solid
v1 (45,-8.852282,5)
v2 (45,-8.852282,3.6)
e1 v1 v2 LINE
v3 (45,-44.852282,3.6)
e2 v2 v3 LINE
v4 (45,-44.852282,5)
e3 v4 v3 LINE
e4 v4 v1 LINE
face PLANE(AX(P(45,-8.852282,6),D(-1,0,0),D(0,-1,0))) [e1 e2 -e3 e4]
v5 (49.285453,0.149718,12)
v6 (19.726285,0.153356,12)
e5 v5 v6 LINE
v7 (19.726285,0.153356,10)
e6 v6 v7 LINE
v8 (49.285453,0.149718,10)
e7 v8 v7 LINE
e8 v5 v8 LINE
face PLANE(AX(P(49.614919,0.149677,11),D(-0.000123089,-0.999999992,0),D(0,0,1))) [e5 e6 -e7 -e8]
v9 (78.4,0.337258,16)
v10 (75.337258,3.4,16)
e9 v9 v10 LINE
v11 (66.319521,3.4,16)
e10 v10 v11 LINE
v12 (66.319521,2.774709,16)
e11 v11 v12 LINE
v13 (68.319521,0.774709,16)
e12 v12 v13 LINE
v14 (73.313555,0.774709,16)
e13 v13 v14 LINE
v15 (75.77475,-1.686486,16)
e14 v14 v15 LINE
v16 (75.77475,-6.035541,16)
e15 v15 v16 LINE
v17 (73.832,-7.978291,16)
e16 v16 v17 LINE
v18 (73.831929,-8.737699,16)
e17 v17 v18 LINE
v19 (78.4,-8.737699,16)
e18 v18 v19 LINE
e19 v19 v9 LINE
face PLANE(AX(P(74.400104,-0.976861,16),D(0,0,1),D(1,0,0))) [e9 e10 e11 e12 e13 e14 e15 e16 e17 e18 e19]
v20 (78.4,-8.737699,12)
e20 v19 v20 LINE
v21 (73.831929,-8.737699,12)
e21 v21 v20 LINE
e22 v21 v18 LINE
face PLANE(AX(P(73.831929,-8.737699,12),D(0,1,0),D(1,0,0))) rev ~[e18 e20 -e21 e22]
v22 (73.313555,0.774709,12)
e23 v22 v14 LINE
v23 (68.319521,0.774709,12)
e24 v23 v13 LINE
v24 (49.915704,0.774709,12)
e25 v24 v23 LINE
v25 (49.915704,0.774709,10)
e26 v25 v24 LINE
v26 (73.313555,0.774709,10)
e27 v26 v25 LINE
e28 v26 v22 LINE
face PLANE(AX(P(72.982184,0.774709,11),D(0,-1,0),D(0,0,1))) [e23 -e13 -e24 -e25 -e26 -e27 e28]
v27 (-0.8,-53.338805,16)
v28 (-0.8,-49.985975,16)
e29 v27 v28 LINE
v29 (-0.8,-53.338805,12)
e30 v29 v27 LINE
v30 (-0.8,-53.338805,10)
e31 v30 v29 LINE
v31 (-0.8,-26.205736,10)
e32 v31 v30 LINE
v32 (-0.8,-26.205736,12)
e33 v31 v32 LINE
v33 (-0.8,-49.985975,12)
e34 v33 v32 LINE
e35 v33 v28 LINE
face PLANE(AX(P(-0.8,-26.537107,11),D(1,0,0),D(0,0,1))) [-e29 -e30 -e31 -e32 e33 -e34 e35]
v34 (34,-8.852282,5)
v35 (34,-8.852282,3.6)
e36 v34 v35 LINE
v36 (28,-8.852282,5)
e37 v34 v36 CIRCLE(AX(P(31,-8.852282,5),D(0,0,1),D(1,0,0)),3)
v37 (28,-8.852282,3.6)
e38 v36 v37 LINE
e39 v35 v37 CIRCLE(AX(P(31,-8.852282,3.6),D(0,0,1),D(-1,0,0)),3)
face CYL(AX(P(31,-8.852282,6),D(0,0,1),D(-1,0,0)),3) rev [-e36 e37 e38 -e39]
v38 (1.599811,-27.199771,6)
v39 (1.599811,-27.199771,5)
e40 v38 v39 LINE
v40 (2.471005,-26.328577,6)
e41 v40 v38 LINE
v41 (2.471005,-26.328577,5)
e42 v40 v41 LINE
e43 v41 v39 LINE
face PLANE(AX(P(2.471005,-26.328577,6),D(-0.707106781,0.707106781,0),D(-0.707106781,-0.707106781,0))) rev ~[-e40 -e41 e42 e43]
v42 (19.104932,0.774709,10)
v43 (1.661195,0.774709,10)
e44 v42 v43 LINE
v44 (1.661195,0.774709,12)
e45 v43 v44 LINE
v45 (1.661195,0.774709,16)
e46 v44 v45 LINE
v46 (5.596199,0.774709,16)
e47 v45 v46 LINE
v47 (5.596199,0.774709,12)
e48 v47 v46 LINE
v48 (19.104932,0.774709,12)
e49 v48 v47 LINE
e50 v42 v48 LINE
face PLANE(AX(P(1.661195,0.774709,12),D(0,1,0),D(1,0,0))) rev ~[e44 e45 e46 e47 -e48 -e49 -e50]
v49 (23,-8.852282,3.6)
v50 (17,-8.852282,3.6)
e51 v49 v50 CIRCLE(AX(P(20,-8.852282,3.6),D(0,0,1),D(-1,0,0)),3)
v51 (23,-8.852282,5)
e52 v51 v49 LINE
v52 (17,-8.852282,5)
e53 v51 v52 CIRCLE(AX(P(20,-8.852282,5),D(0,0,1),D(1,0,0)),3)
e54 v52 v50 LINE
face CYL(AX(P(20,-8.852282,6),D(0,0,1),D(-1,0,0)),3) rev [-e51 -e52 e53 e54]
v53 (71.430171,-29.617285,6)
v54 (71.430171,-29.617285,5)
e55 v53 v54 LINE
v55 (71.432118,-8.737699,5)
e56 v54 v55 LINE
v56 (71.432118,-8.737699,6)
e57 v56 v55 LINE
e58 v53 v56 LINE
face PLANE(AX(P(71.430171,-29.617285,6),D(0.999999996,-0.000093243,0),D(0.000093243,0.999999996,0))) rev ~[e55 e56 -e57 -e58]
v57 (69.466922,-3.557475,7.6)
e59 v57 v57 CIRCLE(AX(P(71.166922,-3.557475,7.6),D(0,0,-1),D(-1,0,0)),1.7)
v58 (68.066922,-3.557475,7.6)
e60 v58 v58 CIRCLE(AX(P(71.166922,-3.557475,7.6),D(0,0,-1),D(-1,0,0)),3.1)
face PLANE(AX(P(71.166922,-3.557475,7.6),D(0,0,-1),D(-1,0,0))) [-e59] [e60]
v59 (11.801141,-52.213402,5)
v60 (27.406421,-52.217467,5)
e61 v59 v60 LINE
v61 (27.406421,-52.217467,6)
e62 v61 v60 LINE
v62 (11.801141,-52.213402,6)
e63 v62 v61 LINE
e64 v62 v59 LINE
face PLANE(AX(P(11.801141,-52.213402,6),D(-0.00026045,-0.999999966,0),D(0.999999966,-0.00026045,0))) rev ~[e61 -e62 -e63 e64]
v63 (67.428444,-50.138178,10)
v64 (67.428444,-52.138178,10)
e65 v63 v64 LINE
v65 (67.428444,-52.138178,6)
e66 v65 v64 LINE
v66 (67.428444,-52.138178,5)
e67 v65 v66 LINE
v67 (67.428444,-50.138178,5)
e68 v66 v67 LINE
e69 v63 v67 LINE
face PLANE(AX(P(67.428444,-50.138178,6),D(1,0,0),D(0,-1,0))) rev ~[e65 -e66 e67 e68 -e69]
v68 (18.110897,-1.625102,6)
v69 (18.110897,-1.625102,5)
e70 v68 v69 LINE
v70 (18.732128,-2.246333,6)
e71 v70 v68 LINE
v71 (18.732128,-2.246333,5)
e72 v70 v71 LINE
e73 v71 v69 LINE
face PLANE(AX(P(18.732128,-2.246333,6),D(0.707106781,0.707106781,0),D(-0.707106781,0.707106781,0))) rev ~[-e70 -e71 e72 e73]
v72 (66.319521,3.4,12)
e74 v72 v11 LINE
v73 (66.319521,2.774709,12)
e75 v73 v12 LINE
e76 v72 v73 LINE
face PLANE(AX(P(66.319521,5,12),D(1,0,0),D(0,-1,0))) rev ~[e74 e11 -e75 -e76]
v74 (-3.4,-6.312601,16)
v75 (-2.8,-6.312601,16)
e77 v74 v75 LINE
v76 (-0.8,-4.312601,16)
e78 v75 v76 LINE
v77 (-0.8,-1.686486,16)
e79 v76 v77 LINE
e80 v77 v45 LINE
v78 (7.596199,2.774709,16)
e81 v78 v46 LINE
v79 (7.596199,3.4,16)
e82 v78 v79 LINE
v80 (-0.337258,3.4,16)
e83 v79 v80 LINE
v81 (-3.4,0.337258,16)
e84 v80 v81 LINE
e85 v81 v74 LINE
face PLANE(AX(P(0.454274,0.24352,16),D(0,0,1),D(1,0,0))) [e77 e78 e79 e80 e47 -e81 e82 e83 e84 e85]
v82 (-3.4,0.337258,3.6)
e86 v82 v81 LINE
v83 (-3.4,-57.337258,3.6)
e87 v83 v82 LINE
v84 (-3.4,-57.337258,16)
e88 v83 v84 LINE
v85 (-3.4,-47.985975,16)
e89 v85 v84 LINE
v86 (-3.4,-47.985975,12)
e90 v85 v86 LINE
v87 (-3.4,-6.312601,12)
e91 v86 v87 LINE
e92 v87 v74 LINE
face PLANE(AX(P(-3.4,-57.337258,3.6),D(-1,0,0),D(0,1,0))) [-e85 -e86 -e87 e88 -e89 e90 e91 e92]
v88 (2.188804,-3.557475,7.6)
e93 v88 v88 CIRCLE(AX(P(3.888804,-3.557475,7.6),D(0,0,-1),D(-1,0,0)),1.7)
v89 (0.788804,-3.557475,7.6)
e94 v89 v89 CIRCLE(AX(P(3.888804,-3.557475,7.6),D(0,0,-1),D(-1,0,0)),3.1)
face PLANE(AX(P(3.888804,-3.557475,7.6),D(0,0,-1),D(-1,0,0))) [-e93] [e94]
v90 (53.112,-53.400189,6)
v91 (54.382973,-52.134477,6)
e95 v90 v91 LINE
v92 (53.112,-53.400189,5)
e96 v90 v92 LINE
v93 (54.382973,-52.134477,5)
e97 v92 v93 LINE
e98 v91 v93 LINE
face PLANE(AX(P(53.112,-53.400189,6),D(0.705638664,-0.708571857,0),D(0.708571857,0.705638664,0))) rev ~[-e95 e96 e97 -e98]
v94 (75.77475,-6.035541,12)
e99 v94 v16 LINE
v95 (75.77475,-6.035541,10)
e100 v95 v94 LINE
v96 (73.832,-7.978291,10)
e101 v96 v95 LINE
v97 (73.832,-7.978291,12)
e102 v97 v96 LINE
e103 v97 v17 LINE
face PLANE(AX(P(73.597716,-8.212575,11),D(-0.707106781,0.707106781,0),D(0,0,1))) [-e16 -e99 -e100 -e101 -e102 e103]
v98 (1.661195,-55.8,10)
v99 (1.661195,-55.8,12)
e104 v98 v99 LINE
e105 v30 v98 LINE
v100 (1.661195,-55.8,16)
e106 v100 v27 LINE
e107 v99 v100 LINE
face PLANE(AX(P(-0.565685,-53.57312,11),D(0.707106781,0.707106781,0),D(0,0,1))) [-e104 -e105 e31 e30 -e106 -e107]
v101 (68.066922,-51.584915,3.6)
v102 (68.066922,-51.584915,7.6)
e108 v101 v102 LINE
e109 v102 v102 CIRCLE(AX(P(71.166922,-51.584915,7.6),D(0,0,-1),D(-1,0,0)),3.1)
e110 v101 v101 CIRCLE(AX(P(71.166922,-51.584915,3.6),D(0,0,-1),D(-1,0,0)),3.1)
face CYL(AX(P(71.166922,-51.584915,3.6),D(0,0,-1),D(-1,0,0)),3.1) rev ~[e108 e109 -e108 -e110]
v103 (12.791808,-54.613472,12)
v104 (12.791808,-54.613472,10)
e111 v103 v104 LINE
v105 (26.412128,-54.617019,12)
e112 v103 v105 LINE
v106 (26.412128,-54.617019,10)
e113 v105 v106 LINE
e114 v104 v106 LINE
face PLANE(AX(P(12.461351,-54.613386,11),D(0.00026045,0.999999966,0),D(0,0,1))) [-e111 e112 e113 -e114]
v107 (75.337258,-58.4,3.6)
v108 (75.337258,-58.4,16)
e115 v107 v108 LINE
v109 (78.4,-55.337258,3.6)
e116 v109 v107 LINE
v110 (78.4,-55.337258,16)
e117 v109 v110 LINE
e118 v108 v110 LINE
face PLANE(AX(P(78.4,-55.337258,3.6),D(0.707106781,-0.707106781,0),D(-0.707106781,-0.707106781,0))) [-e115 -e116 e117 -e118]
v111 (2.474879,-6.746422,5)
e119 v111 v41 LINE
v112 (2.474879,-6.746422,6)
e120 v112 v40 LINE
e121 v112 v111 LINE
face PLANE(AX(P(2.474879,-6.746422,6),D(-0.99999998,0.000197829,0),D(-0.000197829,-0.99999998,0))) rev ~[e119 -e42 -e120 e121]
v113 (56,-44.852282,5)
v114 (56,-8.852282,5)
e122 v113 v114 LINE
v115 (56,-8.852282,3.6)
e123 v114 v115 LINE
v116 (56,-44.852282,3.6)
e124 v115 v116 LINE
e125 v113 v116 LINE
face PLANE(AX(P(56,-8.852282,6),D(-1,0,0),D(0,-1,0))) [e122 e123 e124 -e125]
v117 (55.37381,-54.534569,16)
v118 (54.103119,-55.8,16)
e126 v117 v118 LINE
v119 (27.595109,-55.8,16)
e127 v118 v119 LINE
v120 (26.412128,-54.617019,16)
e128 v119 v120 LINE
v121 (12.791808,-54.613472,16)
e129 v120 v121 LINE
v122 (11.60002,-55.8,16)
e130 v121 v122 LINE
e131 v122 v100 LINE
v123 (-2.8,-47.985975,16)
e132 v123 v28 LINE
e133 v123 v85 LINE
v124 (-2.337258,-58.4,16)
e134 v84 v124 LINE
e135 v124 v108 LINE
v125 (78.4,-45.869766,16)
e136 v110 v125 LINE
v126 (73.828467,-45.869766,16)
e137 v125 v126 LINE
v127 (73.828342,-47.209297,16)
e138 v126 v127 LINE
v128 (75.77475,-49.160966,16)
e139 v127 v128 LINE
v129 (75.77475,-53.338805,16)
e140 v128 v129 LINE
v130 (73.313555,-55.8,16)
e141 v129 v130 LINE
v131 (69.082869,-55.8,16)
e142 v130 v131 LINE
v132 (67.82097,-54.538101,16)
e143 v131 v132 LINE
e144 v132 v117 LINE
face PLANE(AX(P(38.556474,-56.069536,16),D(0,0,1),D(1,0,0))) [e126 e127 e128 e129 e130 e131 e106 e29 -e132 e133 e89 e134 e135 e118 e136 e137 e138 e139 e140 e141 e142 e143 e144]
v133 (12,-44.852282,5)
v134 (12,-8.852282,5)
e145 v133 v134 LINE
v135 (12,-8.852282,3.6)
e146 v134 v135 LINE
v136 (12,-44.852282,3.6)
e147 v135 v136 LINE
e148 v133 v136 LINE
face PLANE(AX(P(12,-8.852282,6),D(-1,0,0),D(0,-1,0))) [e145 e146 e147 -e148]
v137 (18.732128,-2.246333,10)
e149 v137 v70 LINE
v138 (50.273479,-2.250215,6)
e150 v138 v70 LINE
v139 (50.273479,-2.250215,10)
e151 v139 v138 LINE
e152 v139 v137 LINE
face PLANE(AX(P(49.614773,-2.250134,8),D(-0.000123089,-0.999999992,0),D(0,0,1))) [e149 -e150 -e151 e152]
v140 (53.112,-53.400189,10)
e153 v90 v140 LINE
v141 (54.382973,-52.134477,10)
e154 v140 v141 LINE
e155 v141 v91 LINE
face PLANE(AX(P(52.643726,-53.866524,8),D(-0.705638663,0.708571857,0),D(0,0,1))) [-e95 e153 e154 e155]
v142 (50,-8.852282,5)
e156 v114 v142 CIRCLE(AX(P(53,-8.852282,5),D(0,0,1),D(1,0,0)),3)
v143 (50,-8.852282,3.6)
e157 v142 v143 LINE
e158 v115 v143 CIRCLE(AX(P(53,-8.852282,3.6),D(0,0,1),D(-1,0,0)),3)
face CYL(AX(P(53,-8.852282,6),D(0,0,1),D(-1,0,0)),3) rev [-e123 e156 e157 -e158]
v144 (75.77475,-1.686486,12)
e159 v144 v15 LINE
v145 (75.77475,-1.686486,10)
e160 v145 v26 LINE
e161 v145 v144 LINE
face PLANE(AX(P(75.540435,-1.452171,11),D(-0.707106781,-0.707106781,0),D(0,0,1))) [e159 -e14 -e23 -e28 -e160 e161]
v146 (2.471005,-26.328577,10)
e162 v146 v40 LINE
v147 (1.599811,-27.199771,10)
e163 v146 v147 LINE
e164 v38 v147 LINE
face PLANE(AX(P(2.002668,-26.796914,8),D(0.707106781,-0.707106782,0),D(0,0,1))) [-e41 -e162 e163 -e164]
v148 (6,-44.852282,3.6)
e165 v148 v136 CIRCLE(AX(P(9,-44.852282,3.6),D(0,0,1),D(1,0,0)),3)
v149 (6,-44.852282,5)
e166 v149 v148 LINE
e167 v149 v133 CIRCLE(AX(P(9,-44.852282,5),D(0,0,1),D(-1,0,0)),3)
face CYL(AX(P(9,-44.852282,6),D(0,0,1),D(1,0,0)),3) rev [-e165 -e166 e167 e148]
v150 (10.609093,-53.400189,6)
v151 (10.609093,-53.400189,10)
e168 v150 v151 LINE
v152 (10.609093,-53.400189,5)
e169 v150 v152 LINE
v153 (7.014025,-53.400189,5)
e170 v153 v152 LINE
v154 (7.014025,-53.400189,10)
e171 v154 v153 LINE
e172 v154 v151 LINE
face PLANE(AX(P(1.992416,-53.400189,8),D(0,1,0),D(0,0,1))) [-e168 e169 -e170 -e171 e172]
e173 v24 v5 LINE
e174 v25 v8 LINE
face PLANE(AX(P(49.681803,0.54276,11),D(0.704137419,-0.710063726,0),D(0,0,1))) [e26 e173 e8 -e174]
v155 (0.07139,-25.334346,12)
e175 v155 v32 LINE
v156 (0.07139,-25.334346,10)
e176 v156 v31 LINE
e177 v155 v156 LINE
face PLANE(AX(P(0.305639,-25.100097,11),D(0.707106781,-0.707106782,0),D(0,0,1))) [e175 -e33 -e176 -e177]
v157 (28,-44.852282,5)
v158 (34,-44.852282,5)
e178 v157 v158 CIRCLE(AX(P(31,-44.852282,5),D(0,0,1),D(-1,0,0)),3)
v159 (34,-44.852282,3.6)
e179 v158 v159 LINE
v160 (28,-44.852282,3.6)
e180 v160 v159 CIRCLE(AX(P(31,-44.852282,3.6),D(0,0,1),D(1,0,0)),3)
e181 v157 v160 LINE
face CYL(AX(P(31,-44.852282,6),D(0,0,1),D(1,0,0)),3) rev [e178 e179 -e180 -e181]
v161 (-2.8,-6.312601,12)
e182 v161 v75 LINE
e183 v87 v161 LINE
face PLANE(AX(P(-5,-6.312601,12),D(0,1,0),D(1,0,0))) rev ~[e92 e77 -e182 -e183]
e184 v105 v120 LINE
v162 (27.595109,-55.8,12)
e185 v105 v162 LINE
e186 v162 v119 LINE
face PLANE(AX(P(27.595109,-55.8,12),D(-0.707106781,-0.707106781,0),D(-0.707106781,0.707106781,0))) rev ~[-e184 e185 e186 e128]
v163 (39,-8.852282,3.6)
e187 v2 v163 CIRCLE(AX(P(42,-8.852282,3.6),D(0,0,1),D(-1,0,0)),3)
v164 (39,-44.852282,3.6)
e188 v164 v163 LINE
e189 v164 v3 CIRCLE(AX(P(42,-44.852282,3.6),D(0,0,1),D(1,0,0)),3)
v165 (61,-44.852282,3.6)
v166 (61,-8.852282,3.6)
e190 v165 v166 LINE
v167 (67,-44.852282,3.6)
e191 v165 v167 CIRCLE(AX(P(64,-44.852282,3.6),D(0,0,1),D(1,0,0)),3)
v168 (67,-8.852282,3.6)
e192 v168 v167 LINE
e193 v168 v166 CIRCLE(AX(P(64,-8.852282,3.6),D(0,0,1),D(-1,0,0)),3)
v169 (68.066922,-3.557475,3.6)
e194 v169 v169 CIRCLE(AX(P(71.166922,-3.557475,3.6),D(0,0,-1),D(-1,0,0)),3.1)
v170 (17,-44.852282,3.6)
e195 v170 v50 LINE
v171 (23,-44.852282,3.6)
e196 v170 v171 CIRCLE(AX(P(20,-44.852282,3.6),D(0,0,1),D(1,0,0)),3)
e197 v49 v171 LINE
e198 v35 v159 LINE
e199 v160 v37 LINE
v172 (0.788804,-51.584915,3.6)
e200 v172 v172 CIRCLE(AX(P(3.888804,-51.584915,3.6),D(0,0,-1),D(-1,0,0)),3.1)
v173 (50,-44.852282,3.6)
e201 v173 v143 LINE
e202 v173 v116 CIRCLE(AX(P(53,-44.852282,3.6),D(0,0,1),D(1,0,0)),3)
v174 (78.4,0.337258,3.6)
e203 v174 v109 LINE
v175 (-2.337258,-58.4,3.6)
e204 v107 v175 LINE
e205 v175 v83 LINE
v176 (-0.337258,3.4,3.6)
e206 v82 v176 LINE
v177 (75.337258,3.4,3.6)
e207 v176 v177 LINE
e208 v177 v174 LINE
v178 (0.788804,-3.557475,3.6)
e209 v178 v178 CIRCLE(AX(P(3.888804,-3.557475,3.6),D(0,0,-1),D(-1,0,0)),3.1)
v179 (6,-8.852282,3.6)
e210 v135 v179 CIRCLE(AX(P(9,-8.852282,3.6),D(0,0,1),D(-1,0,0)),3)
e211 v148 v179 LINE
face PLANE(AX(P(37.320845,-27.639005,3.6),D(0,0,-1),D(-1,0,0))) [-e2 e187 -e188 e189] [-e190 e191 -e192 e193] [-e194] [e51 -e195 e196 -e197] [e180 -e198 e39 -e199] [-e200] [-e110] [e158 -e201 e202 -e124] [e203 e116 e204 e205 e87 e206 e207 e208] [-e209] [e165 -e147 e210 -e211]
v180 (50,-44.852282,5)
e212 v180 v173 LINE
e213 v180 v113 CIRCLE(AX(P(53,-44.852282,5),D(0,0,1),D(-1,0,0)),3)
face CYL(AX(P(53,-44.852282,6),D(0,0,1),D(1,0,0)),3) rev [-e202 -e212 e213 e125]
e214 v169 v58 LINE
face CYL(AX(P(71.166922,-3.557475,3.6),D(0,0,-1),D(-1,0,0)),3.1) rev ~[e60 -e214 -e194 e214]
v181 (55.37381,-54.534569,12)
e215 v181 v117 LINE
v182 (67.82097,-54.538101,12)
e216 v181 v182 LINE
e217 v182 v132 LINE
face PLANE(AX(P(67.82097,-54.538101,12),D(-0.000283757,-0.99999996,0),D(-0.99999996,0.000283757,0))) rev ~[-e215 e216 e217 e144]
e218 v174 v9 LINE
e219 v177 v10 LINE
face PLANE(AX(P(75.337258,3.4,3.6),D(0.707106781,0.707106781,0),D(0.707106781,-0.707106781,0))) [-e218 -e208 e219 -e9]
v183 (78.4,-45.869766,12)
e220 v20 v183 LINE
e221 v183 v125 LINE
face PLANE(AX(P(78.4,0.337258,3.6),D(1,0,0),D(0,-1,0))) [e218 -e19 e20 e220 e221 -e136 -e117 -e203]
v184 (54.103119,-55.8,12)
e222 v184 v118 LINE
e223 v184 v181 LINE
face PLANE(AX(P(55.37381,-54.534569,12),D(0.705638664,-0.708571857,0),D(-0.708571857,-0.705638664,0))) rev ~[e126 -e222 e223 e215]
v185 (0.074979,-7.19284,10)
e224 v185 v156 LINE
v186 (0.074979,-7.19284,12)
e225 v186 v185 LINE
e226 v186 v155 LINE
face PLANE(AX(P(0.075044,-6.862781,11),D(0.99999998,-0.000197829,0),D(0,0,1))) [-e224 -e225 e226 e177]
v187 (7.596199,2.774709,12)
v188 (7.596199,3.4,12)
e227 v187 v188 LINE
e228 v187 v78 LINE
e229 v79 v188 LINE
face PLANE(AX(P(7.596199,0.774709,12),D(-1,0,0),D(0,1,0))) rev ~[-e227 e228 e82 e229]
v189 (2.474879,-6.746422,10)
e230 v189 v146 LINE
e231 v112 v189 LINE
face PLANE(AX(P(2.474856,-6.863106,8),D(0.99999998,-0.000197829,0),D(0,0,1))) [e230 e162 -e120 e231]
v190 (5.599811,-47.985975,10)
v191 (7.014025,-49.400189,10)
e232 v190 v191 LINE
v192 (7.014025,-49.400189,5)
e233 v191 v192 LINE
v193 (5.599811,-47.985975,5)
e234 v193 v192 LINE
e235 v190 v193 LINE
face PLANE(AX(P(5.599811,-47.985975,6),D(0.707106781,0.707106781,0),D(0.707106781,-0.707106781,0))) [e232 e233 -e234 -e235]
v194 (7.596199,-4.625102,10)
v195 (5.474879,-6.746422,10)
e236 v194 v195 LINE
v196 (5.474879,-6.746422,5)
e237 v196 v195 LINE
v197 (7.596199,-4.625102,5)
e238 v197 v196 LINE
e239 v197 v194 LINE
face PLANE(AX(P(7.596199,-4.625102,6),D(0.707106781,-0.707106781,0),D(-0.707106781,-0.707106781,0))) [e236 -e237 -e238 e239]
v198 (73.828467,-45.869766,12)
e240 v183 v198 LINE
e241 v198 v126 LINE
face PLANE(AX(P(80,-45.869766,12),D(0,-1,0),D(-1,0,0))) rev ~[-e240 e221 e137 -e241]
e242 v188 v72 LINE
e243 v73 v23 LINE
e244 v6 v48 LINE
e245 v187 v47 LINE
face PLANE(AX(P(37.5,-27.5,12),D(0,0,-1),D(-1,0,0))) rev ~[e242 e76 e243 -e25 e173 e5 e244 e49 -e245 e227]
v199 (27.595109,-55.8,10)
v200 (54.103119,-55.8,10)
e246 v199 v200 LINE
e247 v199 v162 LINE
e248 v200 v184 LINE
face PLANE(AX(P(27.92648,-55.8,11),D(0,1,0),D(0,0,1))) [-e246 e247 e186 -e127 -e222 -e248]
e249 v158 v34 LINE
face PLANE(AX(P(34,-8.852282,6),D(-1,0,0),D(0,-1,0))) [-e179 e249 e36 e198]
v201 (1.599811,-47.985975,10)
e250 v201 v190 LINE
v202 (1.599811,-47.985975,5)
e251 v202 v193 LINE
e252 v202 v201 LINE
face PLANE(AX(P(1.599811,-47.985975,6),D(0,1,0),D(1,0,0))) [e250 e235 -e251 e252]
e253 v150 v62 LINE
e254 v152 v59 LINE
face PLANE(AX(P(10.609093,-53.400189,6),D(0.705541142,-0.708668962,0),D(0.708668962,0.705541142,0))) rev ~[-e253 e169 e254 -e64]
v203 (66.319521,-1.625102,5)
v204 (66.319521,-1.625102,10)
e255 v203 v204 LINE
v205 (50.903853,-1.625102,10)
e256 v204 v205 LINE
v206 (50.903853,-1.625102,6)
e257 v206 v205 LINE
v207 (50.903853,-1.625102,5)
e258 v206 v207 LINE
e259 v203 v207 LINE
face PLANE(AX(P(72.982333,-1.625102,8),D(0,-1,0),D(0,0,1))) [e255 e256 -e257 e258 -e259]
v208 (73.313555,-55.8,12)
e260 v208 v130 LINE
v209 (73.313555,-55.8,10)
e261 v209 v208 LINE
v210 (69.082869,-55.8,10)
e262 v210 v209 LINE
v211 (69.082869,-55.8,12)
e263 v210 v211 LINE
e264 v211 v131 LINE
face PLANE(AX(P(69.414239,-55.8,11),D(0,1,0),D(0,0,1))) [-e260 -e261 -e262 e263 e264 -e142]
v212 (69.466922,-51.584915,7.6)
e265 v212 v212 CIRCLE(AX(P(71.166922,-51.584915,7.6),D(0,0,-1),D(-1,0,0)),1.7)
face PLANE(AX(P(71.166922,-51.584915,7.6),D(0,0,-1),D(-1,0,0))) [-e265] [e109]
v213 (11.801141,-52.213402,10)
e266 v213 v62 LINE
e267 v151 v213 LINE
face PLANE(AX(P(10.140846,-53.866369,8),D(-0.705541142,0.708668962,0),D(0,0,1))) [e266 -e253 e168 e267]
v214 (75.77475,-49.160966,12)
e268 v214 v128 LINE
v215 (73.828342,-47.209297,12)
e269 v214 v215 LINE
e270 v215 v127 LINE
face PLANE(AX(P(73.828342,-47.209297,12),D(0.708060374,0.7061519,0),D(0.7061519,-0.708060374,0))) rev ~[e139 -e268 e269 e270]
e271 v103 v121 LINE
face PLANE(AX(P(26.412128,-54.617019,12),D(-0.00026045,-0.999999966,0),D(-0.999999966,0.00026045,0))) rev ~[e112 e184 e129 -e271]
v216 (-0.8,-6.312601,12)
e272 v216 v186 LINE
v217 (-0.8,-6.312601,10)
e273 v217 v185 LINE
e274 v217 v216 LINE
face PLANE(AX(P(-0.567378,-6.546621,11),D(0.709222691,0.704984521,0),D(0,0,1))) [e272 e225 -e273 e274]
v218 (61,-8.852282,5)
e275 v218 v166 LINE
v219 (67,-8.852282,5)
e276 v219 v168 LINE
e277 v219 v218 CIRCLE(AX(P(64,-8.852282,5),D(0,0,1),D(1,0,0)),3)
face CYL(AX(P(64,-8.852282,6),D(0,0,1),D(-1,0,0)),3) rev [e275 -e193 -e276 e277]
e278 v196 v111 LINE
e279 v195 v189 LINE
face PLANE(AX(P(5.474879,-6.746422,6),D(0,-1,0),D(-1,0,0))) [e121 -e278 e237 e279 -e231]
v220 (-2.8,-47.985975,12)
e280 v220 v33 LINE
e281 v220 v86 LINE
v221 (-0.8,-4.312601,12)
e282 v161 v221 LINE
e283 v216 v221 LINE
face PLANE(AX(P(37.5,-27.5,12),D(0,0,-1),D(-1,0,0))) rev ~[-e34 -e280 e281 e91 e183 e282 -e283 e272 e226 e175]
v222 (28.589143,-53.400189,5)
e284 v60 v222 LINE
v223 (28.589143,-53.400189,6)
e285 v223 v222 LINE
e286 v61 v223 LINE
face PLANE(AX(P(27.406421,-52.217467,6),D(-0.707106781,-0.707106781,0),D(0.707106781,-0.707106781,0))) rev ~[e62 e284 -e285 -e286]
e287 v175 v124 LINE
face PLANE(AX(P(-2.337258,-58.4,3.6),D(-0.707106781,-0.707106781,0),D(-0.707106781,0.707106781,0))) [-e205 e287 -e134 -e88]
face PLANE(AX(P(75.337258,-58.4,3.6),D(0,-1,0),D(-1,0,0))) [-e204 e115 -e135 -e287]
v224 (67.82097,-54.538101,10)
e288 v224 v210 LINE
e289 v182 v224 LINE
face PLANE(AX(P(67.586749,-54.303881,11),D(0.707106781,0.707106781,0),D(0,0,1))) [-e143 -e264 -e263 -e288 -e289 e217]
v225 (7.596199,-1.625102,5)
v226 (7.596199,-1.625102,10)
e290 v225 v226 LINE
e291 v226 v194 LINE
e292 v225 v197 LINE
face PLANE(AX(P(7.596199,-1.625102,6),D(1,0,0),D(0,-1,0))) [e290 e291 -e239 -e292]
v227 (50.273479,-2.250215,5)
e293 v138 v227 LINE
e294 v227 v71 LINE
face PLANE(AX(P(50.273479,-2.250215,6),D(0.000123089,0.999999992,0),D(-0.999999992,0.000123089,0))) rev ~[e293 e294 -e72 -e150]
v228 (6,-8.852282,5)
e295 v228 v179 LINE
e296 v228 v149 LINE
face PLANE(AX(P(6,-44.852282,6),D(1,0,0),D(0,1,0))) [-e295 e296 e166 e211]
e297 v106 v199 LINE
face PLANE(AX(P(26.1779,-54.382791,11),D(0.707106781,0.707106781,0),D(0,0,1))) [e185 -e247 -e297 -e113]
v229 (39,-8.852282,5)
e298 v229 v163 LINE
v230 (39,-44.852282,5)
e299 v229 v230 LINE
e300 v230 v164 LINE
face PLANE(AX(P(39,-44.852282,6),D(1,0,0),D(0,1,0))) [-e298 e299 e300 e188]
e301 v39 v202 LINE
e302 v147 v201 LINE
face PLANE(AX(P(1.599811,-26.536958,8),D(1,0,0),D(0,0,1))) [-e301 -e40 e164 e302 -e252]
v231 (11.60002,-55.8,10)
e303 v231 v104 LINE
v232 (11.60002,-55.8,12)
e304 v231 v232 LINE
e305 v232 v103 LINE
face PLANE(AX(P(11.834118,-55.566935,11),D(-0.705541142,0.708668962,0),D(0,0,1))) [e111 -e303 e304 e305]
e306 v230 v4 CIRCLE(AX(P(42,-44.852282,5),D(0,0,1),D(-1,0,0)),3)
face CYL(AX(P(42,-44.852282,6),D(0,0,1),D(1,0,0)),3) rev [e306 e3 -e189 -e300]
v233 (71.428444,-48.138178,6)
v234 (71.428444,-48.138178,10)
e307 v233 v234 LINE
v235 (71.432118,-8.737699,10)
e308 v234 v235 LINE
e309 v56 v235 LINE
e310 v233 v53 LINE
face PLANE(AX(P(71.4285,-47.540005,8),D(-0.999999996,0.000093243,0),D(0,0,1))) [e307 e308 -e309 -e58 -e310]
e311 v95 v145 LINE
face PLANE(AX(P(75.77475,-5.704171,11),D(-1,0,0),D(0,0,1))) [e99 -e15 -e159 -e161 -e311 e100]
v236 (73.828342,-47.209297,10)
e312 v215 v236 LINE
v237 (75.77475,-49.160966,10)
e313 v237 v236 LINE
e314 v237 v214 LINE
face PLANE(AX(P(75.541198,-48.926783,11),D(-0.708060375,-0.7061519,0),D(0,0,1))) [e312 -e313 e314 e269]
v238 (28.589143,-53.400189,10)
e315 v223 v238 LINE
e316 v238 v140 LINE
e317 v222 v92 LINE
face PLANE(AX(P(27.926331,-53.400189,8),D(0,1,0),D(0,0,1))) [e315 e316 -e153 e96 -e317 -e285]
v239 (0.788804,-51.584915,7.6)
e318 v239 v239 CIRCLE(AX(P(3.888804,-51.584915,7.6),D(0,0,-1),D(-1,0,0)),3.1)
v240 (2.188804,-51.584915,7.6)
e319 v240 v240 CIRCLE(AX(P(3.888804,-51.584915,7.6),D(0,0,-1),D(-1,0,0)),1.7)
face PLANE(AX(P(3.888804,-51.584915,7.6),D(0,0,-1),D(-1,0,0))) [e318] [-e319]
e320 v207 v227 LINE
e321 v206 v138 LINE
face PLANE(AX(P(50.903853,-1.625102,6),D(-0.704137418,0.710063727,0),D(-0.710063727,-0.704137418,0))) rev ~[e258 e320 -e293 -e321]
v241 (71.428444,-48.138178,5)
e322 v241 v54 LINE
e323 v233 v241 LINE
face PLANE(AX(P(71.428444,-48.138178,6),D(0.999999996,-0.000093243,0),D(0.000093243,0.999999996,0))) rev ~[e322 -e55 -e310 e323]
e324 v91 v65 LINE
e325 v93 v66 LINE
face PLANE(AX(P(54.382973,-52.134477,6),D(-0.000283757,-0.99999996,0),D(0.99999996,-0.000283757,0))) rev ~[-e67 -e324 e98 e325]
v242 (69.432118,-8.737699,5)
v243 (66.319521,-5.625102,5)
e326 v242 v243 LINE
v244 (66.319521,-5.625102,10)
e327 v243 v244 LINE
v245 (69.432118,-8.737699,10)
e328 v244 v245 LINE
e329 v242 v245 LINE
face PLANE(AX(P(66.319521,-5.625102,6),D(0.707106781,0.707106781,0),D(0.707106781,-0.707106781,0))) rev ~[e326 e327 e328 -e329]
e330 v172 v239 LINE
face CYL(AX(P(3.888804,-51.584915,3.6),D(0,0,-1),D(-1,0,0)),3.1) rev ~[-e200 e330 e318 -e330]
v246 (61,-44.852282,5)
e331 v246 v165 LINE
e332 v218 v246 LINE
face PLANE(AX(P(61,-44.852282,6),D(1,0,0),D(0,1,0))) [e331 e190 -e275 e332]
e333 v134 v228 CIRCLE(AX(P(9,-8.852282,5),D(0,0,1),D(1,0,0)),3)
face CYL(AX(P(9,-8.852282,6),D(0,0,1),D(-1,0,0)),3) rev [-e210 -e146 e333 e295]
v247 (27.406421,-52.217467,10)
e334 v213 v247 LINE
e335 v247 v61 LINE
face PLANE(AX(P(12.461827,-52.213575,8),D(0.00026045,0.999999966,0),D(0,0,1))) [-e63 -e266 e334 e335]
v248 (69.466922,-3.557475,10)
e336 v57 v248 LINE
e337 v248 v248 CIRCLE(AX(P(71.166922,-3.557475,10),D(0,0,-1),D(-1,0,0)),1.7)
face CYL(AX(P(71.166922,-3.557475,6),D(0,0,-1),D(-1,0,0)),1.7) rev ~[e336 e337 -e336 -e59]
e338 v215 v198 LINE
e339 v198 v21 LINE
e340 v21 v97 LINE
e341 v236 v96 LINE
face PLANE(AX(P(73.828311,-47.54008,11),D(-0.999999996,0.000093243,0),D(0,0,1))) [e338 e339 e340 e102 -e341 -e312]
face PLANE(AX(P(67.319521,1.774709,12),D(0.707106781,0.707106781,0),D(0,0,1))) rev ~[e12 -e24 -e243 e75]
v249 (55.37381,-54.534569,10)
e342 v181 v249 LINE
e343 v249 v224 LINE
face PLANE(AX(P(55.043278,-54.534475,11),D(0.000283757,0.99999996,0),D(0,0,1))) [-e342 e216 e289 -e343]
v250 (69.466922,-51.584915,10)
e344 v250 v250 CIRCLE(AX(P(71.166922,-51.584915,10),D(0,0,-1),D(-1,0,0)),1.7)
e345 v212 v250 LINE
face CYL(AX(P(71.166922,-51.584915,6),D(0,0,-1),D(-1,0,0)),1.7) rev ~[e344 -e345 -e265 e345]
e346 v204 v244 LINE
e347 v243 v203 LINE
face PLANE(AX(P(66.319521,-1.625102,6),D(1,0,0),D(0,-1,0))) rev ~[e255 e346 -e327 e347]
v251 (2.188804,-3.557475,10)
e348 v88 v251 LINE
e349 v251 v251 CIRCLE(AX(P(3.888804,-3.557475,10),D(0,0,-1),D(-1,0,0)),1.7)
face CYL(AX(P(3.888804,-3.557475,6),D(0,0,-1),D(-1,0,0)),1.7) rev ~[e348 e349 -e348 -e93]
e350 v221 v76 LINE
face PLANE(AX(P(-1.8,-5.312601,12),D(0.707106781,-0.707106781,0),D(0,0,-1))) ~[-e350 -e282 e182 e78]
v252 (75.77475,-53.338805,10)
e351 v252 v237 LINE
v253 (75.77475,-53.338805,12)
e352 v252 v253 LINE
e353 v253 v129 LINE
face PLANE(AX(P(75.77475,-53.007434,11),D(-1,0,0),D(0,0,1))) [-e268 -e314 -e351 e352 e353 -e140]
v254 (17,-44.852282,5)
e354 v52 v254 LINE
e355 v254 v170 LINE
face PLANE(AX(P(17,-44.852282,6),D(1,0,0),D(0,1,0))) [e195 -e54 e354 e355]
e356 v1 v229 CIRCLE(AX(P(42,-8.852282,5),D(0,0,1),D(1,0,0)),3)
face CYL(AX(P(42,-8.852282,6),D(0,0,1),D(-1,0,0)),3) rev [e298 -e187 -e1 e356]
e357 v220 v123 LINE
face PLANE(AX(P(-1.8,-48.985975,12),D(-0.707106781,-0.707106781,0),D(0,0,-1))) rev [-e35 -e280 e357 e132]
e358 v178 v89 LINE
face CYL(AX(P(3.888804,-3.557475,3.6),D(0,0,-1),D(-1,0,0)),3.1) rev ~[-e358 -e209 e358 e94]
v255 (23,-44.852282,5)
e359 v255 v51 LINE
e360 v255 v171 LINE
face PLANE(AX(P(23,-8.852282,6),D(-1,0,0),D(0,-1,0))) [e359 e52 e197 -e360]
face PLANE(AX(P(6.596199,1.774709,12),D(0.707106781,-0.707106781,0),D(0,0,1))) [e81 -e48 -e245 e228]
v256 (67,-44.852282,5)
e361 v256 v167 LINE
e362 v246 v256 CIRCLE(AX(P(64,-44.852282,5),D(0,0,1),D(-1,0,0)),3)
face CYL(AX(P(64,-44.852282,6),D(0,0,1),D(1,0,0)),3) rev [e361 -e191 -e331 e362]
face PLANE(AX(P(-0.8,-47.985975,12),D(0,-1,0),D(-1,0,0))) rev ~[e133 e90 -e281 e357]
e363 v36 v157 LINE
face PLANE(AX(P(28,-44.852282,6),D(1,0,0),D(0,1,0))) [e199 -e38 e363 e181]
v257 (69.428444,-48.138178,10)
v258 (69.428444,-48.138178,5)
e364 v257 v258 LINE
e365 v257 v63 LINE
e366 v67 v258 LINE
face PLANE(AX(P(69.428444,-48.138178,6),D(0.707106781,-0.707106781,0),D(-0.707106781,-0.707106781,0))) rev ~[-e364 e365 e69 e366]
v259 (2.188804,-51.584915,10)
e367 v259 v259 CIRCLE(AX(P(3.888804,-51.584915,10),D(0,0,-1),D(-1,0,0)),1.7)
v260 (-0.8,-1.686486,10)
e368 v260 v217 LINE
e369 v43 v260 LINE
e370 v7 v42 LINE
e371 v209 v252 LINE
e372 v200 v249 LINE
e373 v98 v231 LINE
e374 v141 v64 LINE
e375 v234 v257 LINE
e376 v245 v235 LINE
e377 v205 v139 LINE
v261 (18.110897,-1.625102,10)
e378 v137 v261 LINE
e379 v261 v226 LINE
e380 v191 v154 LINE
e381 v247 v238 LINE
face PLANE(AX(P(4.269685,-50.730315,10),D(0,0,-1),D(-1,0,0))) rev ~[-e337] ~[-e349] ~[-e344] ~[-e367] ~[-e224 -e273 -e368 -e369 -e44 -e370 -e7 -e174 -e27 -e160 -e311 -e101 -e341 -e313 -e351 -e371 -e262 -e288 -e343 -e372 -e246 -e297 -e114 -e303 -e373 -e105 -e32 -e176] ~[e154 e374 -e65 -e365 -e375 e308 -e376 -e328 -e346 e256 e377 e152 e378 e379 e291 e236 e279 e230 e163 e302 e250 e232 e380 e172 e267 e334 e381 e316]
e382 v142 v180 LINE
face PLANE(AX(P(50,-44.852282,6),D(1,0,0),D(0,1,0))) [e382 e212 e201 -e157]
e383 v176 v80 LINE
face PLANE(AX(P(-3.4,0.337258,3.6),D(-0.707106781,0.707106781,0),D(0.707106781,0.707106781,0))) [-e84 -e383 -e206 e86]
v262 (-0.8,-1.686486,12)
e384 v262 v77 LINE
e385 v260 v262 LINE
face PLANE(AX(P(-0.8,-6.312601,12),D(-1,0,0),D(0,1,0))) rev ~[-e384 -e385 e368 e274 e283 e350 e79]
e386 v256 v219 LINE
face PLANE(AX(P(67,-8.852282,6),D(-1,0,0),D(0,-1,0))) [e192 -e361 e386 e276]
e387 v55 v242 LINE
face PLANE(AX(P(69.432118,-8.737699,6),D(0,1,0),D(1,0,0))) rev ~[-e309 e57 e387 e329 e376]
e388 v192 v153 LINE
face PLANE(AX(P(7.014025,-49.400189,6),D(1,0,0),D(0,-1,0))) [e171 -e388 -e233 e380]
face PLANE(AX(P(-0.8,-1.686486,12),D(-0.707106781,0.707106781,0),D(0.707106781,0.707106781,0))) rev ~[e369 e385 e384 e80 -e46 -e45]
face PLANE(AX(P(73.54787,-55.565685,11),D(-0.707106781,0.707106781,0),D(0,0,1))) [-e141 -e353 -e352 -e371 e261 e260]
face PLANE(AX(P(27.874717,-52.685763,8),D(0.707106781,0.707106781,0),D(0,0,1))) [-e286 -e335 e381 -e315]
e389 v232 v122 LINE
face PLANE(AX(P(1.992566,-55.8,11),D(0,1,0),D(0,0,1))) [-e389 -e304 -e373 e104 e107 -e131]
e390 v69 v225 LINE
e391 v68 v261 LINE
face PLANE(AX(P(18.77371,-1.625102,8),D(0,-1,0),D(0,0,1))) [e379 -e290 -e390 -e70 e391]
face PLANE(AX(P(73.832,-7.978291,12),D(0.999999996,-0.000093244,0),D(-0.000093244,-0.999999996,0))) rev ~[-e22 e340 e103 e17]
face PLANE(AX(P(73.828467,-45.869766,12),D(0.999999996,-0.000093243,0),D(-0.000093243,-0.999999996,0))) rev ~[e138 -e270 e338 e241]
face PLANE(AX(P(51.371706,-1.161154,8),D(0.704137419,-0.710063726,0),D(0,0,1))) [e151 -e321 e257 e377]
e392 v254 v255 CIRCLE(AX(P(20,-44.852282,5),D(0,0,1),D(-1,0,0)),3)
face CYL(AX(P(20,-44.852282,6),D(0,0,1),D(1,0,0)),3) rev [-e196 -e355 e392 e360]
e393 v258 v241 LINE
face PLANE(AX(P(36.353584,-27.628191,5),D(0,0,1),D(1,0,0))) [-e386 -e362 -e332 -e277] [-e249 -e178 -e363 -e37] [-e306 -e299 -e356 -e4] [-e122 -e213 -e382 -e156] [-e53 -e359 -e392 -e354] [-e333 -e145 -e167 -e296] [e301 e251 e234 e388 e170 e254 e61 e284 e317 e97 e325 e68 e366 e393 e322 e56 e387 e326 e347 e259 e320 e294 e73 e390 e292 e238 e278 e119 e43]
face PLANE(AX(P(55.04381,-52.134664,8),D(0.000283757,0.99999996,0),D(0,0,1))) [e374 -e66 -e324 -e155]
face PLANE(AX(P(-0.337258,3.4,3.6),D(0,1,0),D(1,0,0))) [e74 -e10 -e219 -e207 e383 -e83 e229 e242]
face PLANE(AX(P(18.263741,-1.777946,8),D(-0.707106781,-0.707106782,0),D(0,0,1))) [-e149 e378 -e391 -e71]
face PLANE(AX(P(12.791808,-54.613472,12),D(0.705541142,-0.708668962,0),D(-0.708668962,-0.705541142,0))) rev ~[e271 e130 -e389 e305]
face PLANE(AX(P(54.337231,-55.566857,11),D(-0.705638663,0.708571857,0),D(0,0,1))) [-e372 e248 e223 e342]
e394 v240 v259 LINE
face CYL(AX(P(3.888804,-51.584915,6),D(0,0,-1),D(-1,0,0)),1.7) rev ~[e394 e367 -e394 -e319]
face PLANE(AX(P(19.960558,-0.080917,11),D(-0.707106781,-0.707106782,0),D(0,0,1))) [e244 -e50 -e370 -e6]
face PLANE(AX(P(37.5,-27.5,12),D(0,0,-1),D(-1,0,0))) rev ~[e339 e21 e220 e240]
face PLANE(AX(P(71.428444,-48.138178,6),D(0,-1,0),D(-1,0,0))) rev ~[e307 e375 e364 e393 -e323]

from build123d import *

# Parameters (mm, degrees)
SKETCH_1_W           = 75
SKETCH_1_H           = 55
EXTRUDE_1_DEPTH      = 12
SKETCH_2_R           = 1.7
CUT_EXTRUDE_1_DEPTH  = 12
SKETCH_5_W           = 85
SKETCH_5_H           = 65
SKETCH_5_W_2         = 75
SKETCH_5_H_2         = 55
EXTRUDE_2_DEPTH      = 12
CUT_EXTRUDE_3_DEPTH  = 2
SKETCH_8_W           = 0.8
SKETCH_8_H           = 2
CUT_EXTRUDE_4_DEPTH  = 4
SKETCH_12_W          = 1.6
SKETCH_12_H          = 4
EXTRUDE_3_DEPTH      = 4
SKETCH_16_R          = 1.7
CUT_EXTRUDE_6_DEPTH  = 4
CUT_EXTRUDE_7_DEPTH  = 6
CHAMFER_1_SIZE       = 4
CHAMFER_2_SIZE       = 2
EXTRUDE_4_DEPTH      = 4
CHAMFER_4_SIZE       = 2
CUT_EXTRUDE_12_DEPTH = 3.6
CUT_EXTRUDE_15_DEPTH = 1
CUT_EXTRUDE_16_DEPTH = 101.765867237
SKETCH_28_R          = 3.1
CUT_EXTRUDE_17_DEPTH = 4


with BuildPart() as part:
    # 草图1 → 凸台-拉伸1 (new body)
    with BuildSketch(Plane.XY):
        with Locations((37.5, -27.5)):
            Rectangle(SKETCH_1_W, SKETCH_1_H)
    extrude(amount=EXTRUDE_1_DEPTH)

    # 草图2 → 切除-拉伸1 (cut)
    with BuildSketch(Plane(origin=(0, 0, 0), x_dir=(-1, 0, 0), z_dir=(0, 0, -1))):
        with Locations((-71.166921514, -3.557475235)):
            Circle(SKETCH_2_R)
        with Locations((-71.166921514, -51.58491491)):
            Circle(SKETCH_2_R)
        with Locations((-3.888803658, -51.58491491)):
            Circle(SKETCH_2_R)
        with Locations((-3.888803658, -3.557475235)):
            Circle(SKETCH_2_R)
    extrude(amount=-CUT_EXTRUDE_1_DEPTH, mode=Mode.SUBTRACT)

    # 草图5 → 凸台-拉伸2 (add)
    with BuildSketch(Plane(origin=(0, 0, 0), x_dir=(-1, 0, 0), z_dir=(0, 0, -1))):
        with Locations((-37.5, -27.5)):
            Rectangle(SKETCH_5_W, SKETCH_5_H)
        with Locations((-37.5, -27.5)):
            Rectangle(SKETCH_5_W_2, SKETCH_5_H_2, mode=Mode.SUBTRACT)
    extrude(amount=-EXTRUDE_2_DEPTH)

    # 草图6 → 切除-拉伸3 (cut)
    with BuildSketch(Plane.XY.offset(12)):
        Polygon((0.871324699, -25.665782408), (0, -26.537107106), (0, -53.007434423), (1.992565577, -55), (11.269684867, -55), (12.461559563, -53.813385827), (26.743585303, -53.817105578), (27.926479725, -55), (53.772720173, -55), (55.043505207, -53.734475489), (68.152434681, -53.73819524), (69.414239441, -55), (72.982184232, -55), (74.974749809, -53.007434423), (74.974749809, -49.491704516), (73.028310897, -47.54000508), (73.032030648, -7.646889678), (74.974749809, -5.704170516), (74.974749809, -2.017856408), (72.982184232, -0.025290831), (50.245113202, -0.025290831), (49.61482093, -0.650322581), (19.394872914, -0.646602829), (18.773560915, -0.025290831), (1.992565577, -0.025290831), (0, -2.017856408), (0, -5.982633813), (0.87504445, -6.862938786), align=None)
    extrude(amount=-CUT_EXTRUDE_3_DEPTH, mode=Mode.SUBTRACT)

    # Sweep 1: sweep along a path in 草图7
    with BuildLine(Plane.XY.offset(10)) as sweep_1_path:
        Line((0.87504445, -6.862938786), (0.871324699, -25.665782408))
        Line((0.871324699, -25.665782408), (0, -26.537107106))
        Line((0, -26.537107106), (0, -53.007434423))
        Line((0, -53.007434423), (1.992565577, -55))
        Line((1.992565577, -55), (11.269684867, -55))
        Line((11.269684867, -55), (12.461559563, -53.813385827))
        Line((12.461559563, -53.813385827), (26.743585303, -53.817105578))
        Line((26.743585303, -53.817105578), (27.926479725, -55))
        Line((27.926479725, -55), (53.772720173, -55))
        Line((53.772720173, -55), (55.043505207, -53.734475489))
        Line((55.043505207, -53.734475489), (68.152434681, -53.73819524))
        Line((68.152434681, -53.73819524), (69.414239441, -55))
        Line((69.414239441, -55), (72.982184232, -55))
        Line((72.982184232, -55), (74.974749809, -53.007434423))
        Line((74.974749809, -53.007434423), (74.974749809, -49.491704516))
        Line((74.974749809, -49.491704516), (73.028310897, -47.54000508))
        Line((73.028310897, -47.54000508), (73.032030648, -7.646889678))
        Line((73.032030648, -7.646889678), (74.974749809, -5.704170516))
        Line((74.974749809, -5.704170516), (74.974749809, -2.017856408))
        Line((74.974749809, -2.017856408), (72.982184232, -0.025290831))
        Line((72.982184232, -0.025290831), (50.245113202, -0.025290831))
        Line((50.245113202, -0.025290831), (49.61482093, -0.650322581))
        Line((49.61482093, -0.650322581), (19.394872914, -0.646602829))
        Line((19.394872914, -0.646602829), (18.773560915, -0.025290831))
        Line((18.773560915, -0.025290831), (1.992565577, -0.025290831))
        Line((1.992565577, -0.025290831), (0, -2.017856408))
        Line((0, -2.017856408), (0, -5.982633813))
        Line((0, -5.982633813), (0.87504445, -6.862938786))
    # 草图8 → Sweep 1 (sweep, cut)
    with BuildSketch(Plane(origin=(47.466326748, -29.617285171, 16.834886136), x_dir=(1, 0, 0), z_dir=(0, 1, 0))):
        with Locations((-47.866326748, 5.834886136)):
            Rectangle(SKETCH_8_W, SKETCH_8_H)
    sweep(path=sweep_1_path.line, transition=Transition.RIGHT, mode=Mode.SUBTRACT)

    # 草图9 → 切除-拉伸4 (cut)
    with BuildSketch(Plane.XY.offset(10)):
        Polygon((0.871324699, -25.665782408), (0, -26.537107106), (0, -53.007434423), (1.992565577, -55), (11.269684867, -55), (12.461559563, -53.813385827), (26.743585303, -53.817105578), (27.926479725, -55), (53.772720173, -55), (55.043505207, -53.734475489), (68.152434681, -53.73819524), (69.414239441, -55), (72.982184232, -55), (74.974749809, -53.007434423), (74.974749809, -49.491704516), (73.028310897, -47.54000508), (73.032030648, -7.646889678), (74.974749809, -5.704170516), (74.974749809, -2.017856408), (72.982184232, -0.025290831), (50.245113202, -0.025290831), (49.61482093, -0.650322581), (19.394872914, -0.646602829), (18.773560915, -0.025290831), (1.992565577, -0.025290831), (0, -2.017856408), (0, -5.982633813), (0.87504445, -6.862938786), align=None)
    extrude(amount=-CUT_EXTRUDE_4_DEPTH, mode=Mode.SUBTRACT)

    # Sweep 1 2: sweep along a path in 草图10
    with BuildLine(Plane.XY.offset(6)) as sweep_1_2_path:
        Line((0.87504445, -6.862938786), (0.871324699, -25.665782408))
        Line((0.871324699, -25.665782408), (0, -26.537107106))
        Line((0, -26.537107106), (0, -53.007434423))
        Line((0, -53.007434423), (1.992565577, -55))
        Line((1.992565577, -55), (11.269684867, -55))
        Line((11.269684867, -55), (12.461559563, -53.813385827))
        Line((12.461559563, -53.813385827), (26.743585303, -53.817105578))
        Line((26.743585303, -53.817105578), (27.926479725, -55))
        Line((27.926479725, -55), (53.772720173, -55))
        Line((53.772720173, -55), (55.043505207, -53.734475489))
        Line((55.043505207, -53.734475489), (68.152434681, -53.73819524))
        Line((68.152434681, -53.73819524), (69.414239441, -55))
        Line((69.414239441, -55), (72.982184232, -55))
        Line((72.982184232, -55), (74.974749809, -53.007434423))
        Line((74.974749809, -53.007434423), (74.974749809, -49.491704516))
        Line((74.974749809, -49.491704516), (73.028310897, -47.54000508))
        Line((73.028310897, -47.54000508), (73.032030648, -7.646889678))
        Line((73.032030648, -7.646889678), (74.974749809, -5.704170516))
        Line((74.974749809, -5.704170516), (74.974749809, -2.017856408))
        Line((74.974749809, -2.017856408), (72.982184232, -0.025290831))
        Line((72.982184232, -0.025290831), (50.245113202, -0.025290831))
        Line((50.245113202, -0.025290831), (49.61482093, -0.650322581))
        Line((49.61482093, -0.650322581), (19.394872914, -0.646602829))
        Line((19.394872914, -0.646602829), (18.773560915, -0.025290831))
        Line((18.773560915, -0.025290831), (1.992565577, -0.025290831))
        Line((1.992565577, -0.025290831), (0, -2.017856408))
        Line((0, -2.017856408), (0, -5.982633813))
        Line((0, -5.982633813), (0.87504445, -6.862938786))
    # 草图12 → Sweep 1 2 (sweep)
    with BuildSketch(Plane(origin=(47.466326748, -29.617285171, 16.834886136), x_dir=(1, 0, 0), z_dir=(0, 1, 0))):
        with Locations((24.763844024, 8.834886136)):
            Rectangle(SKETCH_12_W, SKETCH_12_H)
    sweep(path=sweep_1_2_path.line, transition=Transition.RIGHT)

    # 草图15 → 凸台-拉伸3 (add)
    with BuildSketch(Plane.XY.offset(6)):
        Polygon((1.599811284, -47.985975153), (5.599811284, -47.985975153), (7.014024847, -49.400188716), (7.014024847, -53.400188716), (2.655229109, -53.400188716), (1.599811284, -52.344770891), align=None)
        Polygon((71.42844383, -48.138178454), (69.42844383, -48.138178454), (67.42844383, -50.138178454), (67.42844383, -52.138178454), (68.815286237, -52.13857198), (70.076902972, -53.400188716), (72.319520701, -53.400188716), (73.374938525, -52.344770891), (73.374938525, -50.153103724), (71.42843794, -48.201342449), align=None)
        Polygon((7.59619916, -1.625102115), (7.59619916, -4.625102115), (5.474878816, -6.746422459), (2.474878816, -6.746422459), (2.474986279, -6.203213329), (1.599811284, -5.322777027), (1.599811284, -2.680519939), (2.655229109, -1.625102115), align=None)
        Polygon((72.319520701, -1.625102115), (66.319520701, -1.625102115), (66.319520701, -5.625102115), (69.432117646, -8.73769906), (71.432117646, -8.73769906), (71.432281151, -6.984164359), (73.303483781, -5.112961729), (73.374938525, -5.041506985), (73.374938525, -2.680519939), align=None)
    extrude(amount=EXTRUDE_3_DEPTH)

    # 草图16 → 切除-拉伸6 (cut)
    with BuildSketch(Plane(origin=(0, 0, 6), x_dir=(-1, 0, 0), z_dir=(0, 0, -1))):
        with Locations((-3.888803658, -51.58491491)):
            Circle(SKETCH_16_R)
        with Locations((-71.166921514, -51.58491491)):
            Circle(SKETCH_16_R)
        with Locations((-71.166921514, -3.557475235)):
            Circle(SKETCH_16_R)
        with Locations((-3.888803658, -3.557475235)):
            Circle(SKETCH_16_R)
    extrude(amount=-CUT_EXTRUDE_6_DEPTH, mode=Mode.SUBTRACT)

    # 草图17 → 切除-拉伸7 (cut)
    with BuildSketch(Plane.XY.offset(6)):
        with BuildLine():
            Line((12, -8.852281976), (12, -44.852281976))
            ThreePointArc((12, -44.852281976), (9, -47.852281976), (6, -44.852281976))
            Line((6, -44.852281976), (6, -8.852281976))
            ThreePointArc((6, -8.852281976), (9, -5.852281976), (12, -8.852281976))
        make_face()
        with BuildLine():
            Line((23, -8.852281976), (23, -44.852281976))
            ThreePointArc((23, -44.852281976), (20, -47.852281976), (17, -44.852281976))
            Line((17, -44.852281976), (17, -8.852281976))
            ThreePointArc((17, -8.852281976), (20, -5.852281976), (23, -8.852281976))
        make_face()
        with BuildLine():
            Line((34, -8.852281976), (34, -44.852281976))
            ThreePointArc((34, -44.852281976), (31, -47.852281976), (28, -44.852281976))
            Line((28, -44.852281976), (28, -8.852281976))
            ThreePointArc((28, -8.852281976), (31, -5.852281976), (34, -8.852281976))
        make_face()
        with BuildLine():
            Line((45, -8.852281976), (45, -44.852281976))
            ThreePointArc((45, -44.852281976), (42, -47.852281976), (39, -44.852281976))
            Line((39, -44.852281976), (39, -8.852281976))
            ThreePointArc((39, -8.852281976), (42, -5.852281976), (45, -8.852281976))
        make_face()
        with BuildLine():
            Line((56, -8.852281976), (56, -44.852281976))
            ThreePointArc((56, -44.852281976), (53, -47.852281976), (50, -44.852281976))
            Line((50, -44.852281976), (50, -8.852281976))
            ThreePointArc((50, -8.852281976), (53, -5.852281976), (56, -8.852281976))
        make_face()
        with BuildLine():
            Line((67, -8.852281976), (67, -44.852281976))
            ThreePointArc((67, -44.852281976), (64, -47.852281976), (61, -44.852281976))
            Line((61, -44.852281976), (61, -8.852281976))
            ThreePointArc((61, -8.852281976), (64, -5.852281976), (67, -8.852281976))
        make_face()
    extrude(amount=-CUT_EXTRUDE_7_DEPTH, mode=Mode.SUBTRACT)

    # 倒角1
    chamfer_1_edges = [part.edges().sort_by_distance(p)[0] for p in [
        (-5, 5, 6),
        (80, -60, 6),
        (80, 5, 6),
    ]]
    chamfer(chamfer_1_edges, length=CHAMFER_1_SIZE)

    # 倒角2
    chamfer_2_edges = [part.edges().sort_by_distance(p)[0] for p in [
        (-5, -60, 6),
    ]]
    chamfer(chamfer_2_edges, length=CHAMFER_2_SIZE)

    # 草图20 → 凸台-拉伸4 (add)
    with BuildSketch(Plane.XY.offset(12)):
        Polygon((-5, -6.312601125), (-0.8, -6.312601125), (-0.8, -1.686485558), (1.661194727, 0.774709169), (7.59619916, 0.774709169), (7.59619916, 5), (-1, 5), (-5, 1), align=None)
        Polygon((-0.8, -53.338805273), (-0.8, -47.985975153), (-5, -47.985975153), (-5, -58), (-3, -60), (76, -60), (80, -56), (80, -45.869766166), (73.828466638, -45.869766166), (73.828341736, -47.209297389), (75.774749809, -49.160965902), (75.774749809, -53.338805273), (73.313555082, -55.8), (69.580957304, -55.8), (69.082868591, -55.8), (67.820969808, -54.538101217), (55.37381035, -54.534569248), (54.103119465, -55.8), (27.595108875, -55.8), (26.412128153, -54.617019277), (12.791807996, -54.613471867), (11.600019722, -55.8), (1.661194727, -55.8), align=None)
        Polygon((76, 5), (66.319520701, 5), (66.319520701, 0.774709169), (73.313555082, 0.774709169), (75.774749809, -1.686485558), (75.774749809, -6.035541366), (73.831999751, -7.978291425), (73.831928941, -8.73769906), (80, -8.73769906), (80, 1), align=None)
    extrude(amount=EXTRUDE_4_DEPTH)

    # 倒角4
    chamfer_4_edges = [part.edges().sort_by_distance(p)[0] for p in [
        (7.59619916, 0.774709169, 14),
        (-0.8, -6.312601125, 14),
        (66.319520701, 0.774709169, 14),
        (-0.8, -47.985975153, 14),
    ]]
    chamfer(chamfer_4_edges, length=CHAMFER_4_SIZE)

    # 草图24 → 切除-拉伸12 (cut)
    with BuildSketch(Plane(origin=(0, 0, 0), x_dir=(-1, 0, 0), z_dir=(0, 0, -1))):
        Polygon((-76, -60), (3, -60), (5, -58), (5, 1), (1, 5), (-76, 5), (-80, 1), (-80, -56), align=None)
    extrude(amount=-CUT_EXTRUDE_12_DEPTH, mode=Mode.SUBTRACT)

    # 草图26 → 切除-拉伸15 (cut)
    with BuildSketch(Plane.XY.offset(6)):
        Polygon((67.42844383, -50.138178454), (69.42844383, -48.138178454), (71.42844383, -48.138178454), (71.430170772, -29.617285171), (71.432117646, -8.73769906), (69.432117646, -8.73769906), (66.319520701, -5.625102115), (66.319520701, -1.625102115), (50.903852973, -1.625102115), (50.273478932, -2.250214951), (18.732127818, -2.246332549), (18.110897384, -1.625102115), (7.59619916, -1.625102115), (7.59619916, -4.625102115), (5.474878816, -6.746422459), (2.474878816, -6.746422459), (2.471004894, -26.328577028), (1.599811284, -27.199770638), (1.599811284, -47.985975153), (5.599811284, -47.985975153), (7.014024847, -49.400188716), (7.014024847, -53.400188716), (10.609093081, -53.400188716), (11.801140601, -52.213402482), (27.406421416, -52.217466875), (28.589143256, -53.400188716), (53.11199953, -53.400188716), (54.382972838, -52.134476709), (67.42844383, -52.138178454), align=None)
        with BuildLine():
            Line((67, -44.852281976), (67, -8.852281976))
            ThreePointArc((67, -8.852281976), (64, -5.852281976), (61, -8.852281976))
            Line((61, -8.852281976), (61, -44.852281976))
            ThreePointArc((61, -44.852281976), (64, -47.852281976), (67, -44.852281976))
        make_face(mode=Mode.SUBTRACT)
        with BuildLine():
            Line((56, -44.852281976), (56, -8.852281976))
            ThreePointArc((56, -8.852281976), (53, -5.852281976), (50, -8.852281976))
            Line((50, -8.852281976), (50, -44.852281976))
            ThreePointArc((50, -44.852281976), (53, -47.852281976), (56, -44.852281976))
        make_face(mode=Mode.SUBTRACT)
        with BuildLine():
            Line((34, -44.852281976), (34, -8.852281976))
            ThreePointArc((34, -8.852281976), (31, -5.852281976), (28, -8.852281976))
            Line((28, -8.852281976), (28, -44.852281976))
            ThreePointArc((28, -44.852281976), (31, -47.852281976), (34, -44.852281976))
        make_face(mode=Mode.SUBTRACT)
        with BuildLine():
            Line((23, -44.852281976), (23, -8.852281976))
            ThreePointArc((23, -8.852281976), (20, -5.852281976), (17, -8.852281976))
            Line((17, -8.852281976), (17, -44.852281976))
            ThreePointArc((17, -44.852281976), (20, -47.852281976), (23, -44.852281976))
        make_face(mode=Mode.SUBTRACT)
        with BuildLine():
            Line((12, -44.852281976), (12, -8.852281976))
            ThreePointArc((12, -8.852281976), (9, -5.852281976), (6, -8.852281976))
            Line((6, -8.852281976), (6, -44.852281976))
            ThreePointArc((6, -44.852281976), (9, -47.852281976), (12, -44.852281976))
        make_face(mode=Mode.SUBTRACT)
        with BuildLine():
            Line((45, -44.852281976), (45, -8.852281976))
            ThreePointArc((45, -8.852281976), (42, -5.852281976), (39, -8.852281976))
            Line((39, -8.852281976), (39, -44.852281976))
            ThreePointArc((39, -44.852281976), (42, -47.852281976), (45, -44.852281976))
        make_face(mode=Mode.SUBTRACT)
    extrude(amount=-CUT_EXTRUDE_15_DEPTH, mode=Mode.SUBTRACT)

    # 草图27 → 切除-拉伸16 (cut, through all)
    with BuildSketch(Plane(origin=(0, 0, 3.6), x_dir=(-1, 0, 0), z_dir=(0, 0, -1))):
        Polygon((-80, 1), (-80, -56), (-76, -60), (3, -60), (5, -58), (5, 1), (1, 5), (-76, 5), align=None)
        Polygon((-78.4, 0.3372583), (-78.4, -55.3372583), (-75.3372583, -58.4), (2.3372583, -58.4), (3.4, -57.3372583), (3.4, 0.3372583), (0.3372583, 3.4), (-75.3372583, 3.4), align=None, mode=Mode.SUBTRACT)
    extrude(amount=-CUT_EXTRUDE_16_DEPTH, mode=Mode.SUBTRACT)

    # 草图28 → 切除-拉伸17 (cut)
    with BuildSketch(Plane(origin=(0, 0, 3.6), x_dir=(-1, 0, 0), z_dir=(0, 0, -1))):
        with Locations((-71.166921514, -3.557475235)):
            Circle(SKETCH_28_R)
        with Locations((-3.888803658, -3.557475235)):
            Circle(SKETCH_28_R)
        with Locations((-3.888803658, -51.58491491)):
            Circle(SKETCH_28_R)
        with Locations((-71.166921514, -51.58491491)):
            Circle(SKETCH_28_R)
    extrude(amount=-CUT_EXTRUDE_17_DEPTH, mode=Mode.SUBTRACT)


solid = part.part
